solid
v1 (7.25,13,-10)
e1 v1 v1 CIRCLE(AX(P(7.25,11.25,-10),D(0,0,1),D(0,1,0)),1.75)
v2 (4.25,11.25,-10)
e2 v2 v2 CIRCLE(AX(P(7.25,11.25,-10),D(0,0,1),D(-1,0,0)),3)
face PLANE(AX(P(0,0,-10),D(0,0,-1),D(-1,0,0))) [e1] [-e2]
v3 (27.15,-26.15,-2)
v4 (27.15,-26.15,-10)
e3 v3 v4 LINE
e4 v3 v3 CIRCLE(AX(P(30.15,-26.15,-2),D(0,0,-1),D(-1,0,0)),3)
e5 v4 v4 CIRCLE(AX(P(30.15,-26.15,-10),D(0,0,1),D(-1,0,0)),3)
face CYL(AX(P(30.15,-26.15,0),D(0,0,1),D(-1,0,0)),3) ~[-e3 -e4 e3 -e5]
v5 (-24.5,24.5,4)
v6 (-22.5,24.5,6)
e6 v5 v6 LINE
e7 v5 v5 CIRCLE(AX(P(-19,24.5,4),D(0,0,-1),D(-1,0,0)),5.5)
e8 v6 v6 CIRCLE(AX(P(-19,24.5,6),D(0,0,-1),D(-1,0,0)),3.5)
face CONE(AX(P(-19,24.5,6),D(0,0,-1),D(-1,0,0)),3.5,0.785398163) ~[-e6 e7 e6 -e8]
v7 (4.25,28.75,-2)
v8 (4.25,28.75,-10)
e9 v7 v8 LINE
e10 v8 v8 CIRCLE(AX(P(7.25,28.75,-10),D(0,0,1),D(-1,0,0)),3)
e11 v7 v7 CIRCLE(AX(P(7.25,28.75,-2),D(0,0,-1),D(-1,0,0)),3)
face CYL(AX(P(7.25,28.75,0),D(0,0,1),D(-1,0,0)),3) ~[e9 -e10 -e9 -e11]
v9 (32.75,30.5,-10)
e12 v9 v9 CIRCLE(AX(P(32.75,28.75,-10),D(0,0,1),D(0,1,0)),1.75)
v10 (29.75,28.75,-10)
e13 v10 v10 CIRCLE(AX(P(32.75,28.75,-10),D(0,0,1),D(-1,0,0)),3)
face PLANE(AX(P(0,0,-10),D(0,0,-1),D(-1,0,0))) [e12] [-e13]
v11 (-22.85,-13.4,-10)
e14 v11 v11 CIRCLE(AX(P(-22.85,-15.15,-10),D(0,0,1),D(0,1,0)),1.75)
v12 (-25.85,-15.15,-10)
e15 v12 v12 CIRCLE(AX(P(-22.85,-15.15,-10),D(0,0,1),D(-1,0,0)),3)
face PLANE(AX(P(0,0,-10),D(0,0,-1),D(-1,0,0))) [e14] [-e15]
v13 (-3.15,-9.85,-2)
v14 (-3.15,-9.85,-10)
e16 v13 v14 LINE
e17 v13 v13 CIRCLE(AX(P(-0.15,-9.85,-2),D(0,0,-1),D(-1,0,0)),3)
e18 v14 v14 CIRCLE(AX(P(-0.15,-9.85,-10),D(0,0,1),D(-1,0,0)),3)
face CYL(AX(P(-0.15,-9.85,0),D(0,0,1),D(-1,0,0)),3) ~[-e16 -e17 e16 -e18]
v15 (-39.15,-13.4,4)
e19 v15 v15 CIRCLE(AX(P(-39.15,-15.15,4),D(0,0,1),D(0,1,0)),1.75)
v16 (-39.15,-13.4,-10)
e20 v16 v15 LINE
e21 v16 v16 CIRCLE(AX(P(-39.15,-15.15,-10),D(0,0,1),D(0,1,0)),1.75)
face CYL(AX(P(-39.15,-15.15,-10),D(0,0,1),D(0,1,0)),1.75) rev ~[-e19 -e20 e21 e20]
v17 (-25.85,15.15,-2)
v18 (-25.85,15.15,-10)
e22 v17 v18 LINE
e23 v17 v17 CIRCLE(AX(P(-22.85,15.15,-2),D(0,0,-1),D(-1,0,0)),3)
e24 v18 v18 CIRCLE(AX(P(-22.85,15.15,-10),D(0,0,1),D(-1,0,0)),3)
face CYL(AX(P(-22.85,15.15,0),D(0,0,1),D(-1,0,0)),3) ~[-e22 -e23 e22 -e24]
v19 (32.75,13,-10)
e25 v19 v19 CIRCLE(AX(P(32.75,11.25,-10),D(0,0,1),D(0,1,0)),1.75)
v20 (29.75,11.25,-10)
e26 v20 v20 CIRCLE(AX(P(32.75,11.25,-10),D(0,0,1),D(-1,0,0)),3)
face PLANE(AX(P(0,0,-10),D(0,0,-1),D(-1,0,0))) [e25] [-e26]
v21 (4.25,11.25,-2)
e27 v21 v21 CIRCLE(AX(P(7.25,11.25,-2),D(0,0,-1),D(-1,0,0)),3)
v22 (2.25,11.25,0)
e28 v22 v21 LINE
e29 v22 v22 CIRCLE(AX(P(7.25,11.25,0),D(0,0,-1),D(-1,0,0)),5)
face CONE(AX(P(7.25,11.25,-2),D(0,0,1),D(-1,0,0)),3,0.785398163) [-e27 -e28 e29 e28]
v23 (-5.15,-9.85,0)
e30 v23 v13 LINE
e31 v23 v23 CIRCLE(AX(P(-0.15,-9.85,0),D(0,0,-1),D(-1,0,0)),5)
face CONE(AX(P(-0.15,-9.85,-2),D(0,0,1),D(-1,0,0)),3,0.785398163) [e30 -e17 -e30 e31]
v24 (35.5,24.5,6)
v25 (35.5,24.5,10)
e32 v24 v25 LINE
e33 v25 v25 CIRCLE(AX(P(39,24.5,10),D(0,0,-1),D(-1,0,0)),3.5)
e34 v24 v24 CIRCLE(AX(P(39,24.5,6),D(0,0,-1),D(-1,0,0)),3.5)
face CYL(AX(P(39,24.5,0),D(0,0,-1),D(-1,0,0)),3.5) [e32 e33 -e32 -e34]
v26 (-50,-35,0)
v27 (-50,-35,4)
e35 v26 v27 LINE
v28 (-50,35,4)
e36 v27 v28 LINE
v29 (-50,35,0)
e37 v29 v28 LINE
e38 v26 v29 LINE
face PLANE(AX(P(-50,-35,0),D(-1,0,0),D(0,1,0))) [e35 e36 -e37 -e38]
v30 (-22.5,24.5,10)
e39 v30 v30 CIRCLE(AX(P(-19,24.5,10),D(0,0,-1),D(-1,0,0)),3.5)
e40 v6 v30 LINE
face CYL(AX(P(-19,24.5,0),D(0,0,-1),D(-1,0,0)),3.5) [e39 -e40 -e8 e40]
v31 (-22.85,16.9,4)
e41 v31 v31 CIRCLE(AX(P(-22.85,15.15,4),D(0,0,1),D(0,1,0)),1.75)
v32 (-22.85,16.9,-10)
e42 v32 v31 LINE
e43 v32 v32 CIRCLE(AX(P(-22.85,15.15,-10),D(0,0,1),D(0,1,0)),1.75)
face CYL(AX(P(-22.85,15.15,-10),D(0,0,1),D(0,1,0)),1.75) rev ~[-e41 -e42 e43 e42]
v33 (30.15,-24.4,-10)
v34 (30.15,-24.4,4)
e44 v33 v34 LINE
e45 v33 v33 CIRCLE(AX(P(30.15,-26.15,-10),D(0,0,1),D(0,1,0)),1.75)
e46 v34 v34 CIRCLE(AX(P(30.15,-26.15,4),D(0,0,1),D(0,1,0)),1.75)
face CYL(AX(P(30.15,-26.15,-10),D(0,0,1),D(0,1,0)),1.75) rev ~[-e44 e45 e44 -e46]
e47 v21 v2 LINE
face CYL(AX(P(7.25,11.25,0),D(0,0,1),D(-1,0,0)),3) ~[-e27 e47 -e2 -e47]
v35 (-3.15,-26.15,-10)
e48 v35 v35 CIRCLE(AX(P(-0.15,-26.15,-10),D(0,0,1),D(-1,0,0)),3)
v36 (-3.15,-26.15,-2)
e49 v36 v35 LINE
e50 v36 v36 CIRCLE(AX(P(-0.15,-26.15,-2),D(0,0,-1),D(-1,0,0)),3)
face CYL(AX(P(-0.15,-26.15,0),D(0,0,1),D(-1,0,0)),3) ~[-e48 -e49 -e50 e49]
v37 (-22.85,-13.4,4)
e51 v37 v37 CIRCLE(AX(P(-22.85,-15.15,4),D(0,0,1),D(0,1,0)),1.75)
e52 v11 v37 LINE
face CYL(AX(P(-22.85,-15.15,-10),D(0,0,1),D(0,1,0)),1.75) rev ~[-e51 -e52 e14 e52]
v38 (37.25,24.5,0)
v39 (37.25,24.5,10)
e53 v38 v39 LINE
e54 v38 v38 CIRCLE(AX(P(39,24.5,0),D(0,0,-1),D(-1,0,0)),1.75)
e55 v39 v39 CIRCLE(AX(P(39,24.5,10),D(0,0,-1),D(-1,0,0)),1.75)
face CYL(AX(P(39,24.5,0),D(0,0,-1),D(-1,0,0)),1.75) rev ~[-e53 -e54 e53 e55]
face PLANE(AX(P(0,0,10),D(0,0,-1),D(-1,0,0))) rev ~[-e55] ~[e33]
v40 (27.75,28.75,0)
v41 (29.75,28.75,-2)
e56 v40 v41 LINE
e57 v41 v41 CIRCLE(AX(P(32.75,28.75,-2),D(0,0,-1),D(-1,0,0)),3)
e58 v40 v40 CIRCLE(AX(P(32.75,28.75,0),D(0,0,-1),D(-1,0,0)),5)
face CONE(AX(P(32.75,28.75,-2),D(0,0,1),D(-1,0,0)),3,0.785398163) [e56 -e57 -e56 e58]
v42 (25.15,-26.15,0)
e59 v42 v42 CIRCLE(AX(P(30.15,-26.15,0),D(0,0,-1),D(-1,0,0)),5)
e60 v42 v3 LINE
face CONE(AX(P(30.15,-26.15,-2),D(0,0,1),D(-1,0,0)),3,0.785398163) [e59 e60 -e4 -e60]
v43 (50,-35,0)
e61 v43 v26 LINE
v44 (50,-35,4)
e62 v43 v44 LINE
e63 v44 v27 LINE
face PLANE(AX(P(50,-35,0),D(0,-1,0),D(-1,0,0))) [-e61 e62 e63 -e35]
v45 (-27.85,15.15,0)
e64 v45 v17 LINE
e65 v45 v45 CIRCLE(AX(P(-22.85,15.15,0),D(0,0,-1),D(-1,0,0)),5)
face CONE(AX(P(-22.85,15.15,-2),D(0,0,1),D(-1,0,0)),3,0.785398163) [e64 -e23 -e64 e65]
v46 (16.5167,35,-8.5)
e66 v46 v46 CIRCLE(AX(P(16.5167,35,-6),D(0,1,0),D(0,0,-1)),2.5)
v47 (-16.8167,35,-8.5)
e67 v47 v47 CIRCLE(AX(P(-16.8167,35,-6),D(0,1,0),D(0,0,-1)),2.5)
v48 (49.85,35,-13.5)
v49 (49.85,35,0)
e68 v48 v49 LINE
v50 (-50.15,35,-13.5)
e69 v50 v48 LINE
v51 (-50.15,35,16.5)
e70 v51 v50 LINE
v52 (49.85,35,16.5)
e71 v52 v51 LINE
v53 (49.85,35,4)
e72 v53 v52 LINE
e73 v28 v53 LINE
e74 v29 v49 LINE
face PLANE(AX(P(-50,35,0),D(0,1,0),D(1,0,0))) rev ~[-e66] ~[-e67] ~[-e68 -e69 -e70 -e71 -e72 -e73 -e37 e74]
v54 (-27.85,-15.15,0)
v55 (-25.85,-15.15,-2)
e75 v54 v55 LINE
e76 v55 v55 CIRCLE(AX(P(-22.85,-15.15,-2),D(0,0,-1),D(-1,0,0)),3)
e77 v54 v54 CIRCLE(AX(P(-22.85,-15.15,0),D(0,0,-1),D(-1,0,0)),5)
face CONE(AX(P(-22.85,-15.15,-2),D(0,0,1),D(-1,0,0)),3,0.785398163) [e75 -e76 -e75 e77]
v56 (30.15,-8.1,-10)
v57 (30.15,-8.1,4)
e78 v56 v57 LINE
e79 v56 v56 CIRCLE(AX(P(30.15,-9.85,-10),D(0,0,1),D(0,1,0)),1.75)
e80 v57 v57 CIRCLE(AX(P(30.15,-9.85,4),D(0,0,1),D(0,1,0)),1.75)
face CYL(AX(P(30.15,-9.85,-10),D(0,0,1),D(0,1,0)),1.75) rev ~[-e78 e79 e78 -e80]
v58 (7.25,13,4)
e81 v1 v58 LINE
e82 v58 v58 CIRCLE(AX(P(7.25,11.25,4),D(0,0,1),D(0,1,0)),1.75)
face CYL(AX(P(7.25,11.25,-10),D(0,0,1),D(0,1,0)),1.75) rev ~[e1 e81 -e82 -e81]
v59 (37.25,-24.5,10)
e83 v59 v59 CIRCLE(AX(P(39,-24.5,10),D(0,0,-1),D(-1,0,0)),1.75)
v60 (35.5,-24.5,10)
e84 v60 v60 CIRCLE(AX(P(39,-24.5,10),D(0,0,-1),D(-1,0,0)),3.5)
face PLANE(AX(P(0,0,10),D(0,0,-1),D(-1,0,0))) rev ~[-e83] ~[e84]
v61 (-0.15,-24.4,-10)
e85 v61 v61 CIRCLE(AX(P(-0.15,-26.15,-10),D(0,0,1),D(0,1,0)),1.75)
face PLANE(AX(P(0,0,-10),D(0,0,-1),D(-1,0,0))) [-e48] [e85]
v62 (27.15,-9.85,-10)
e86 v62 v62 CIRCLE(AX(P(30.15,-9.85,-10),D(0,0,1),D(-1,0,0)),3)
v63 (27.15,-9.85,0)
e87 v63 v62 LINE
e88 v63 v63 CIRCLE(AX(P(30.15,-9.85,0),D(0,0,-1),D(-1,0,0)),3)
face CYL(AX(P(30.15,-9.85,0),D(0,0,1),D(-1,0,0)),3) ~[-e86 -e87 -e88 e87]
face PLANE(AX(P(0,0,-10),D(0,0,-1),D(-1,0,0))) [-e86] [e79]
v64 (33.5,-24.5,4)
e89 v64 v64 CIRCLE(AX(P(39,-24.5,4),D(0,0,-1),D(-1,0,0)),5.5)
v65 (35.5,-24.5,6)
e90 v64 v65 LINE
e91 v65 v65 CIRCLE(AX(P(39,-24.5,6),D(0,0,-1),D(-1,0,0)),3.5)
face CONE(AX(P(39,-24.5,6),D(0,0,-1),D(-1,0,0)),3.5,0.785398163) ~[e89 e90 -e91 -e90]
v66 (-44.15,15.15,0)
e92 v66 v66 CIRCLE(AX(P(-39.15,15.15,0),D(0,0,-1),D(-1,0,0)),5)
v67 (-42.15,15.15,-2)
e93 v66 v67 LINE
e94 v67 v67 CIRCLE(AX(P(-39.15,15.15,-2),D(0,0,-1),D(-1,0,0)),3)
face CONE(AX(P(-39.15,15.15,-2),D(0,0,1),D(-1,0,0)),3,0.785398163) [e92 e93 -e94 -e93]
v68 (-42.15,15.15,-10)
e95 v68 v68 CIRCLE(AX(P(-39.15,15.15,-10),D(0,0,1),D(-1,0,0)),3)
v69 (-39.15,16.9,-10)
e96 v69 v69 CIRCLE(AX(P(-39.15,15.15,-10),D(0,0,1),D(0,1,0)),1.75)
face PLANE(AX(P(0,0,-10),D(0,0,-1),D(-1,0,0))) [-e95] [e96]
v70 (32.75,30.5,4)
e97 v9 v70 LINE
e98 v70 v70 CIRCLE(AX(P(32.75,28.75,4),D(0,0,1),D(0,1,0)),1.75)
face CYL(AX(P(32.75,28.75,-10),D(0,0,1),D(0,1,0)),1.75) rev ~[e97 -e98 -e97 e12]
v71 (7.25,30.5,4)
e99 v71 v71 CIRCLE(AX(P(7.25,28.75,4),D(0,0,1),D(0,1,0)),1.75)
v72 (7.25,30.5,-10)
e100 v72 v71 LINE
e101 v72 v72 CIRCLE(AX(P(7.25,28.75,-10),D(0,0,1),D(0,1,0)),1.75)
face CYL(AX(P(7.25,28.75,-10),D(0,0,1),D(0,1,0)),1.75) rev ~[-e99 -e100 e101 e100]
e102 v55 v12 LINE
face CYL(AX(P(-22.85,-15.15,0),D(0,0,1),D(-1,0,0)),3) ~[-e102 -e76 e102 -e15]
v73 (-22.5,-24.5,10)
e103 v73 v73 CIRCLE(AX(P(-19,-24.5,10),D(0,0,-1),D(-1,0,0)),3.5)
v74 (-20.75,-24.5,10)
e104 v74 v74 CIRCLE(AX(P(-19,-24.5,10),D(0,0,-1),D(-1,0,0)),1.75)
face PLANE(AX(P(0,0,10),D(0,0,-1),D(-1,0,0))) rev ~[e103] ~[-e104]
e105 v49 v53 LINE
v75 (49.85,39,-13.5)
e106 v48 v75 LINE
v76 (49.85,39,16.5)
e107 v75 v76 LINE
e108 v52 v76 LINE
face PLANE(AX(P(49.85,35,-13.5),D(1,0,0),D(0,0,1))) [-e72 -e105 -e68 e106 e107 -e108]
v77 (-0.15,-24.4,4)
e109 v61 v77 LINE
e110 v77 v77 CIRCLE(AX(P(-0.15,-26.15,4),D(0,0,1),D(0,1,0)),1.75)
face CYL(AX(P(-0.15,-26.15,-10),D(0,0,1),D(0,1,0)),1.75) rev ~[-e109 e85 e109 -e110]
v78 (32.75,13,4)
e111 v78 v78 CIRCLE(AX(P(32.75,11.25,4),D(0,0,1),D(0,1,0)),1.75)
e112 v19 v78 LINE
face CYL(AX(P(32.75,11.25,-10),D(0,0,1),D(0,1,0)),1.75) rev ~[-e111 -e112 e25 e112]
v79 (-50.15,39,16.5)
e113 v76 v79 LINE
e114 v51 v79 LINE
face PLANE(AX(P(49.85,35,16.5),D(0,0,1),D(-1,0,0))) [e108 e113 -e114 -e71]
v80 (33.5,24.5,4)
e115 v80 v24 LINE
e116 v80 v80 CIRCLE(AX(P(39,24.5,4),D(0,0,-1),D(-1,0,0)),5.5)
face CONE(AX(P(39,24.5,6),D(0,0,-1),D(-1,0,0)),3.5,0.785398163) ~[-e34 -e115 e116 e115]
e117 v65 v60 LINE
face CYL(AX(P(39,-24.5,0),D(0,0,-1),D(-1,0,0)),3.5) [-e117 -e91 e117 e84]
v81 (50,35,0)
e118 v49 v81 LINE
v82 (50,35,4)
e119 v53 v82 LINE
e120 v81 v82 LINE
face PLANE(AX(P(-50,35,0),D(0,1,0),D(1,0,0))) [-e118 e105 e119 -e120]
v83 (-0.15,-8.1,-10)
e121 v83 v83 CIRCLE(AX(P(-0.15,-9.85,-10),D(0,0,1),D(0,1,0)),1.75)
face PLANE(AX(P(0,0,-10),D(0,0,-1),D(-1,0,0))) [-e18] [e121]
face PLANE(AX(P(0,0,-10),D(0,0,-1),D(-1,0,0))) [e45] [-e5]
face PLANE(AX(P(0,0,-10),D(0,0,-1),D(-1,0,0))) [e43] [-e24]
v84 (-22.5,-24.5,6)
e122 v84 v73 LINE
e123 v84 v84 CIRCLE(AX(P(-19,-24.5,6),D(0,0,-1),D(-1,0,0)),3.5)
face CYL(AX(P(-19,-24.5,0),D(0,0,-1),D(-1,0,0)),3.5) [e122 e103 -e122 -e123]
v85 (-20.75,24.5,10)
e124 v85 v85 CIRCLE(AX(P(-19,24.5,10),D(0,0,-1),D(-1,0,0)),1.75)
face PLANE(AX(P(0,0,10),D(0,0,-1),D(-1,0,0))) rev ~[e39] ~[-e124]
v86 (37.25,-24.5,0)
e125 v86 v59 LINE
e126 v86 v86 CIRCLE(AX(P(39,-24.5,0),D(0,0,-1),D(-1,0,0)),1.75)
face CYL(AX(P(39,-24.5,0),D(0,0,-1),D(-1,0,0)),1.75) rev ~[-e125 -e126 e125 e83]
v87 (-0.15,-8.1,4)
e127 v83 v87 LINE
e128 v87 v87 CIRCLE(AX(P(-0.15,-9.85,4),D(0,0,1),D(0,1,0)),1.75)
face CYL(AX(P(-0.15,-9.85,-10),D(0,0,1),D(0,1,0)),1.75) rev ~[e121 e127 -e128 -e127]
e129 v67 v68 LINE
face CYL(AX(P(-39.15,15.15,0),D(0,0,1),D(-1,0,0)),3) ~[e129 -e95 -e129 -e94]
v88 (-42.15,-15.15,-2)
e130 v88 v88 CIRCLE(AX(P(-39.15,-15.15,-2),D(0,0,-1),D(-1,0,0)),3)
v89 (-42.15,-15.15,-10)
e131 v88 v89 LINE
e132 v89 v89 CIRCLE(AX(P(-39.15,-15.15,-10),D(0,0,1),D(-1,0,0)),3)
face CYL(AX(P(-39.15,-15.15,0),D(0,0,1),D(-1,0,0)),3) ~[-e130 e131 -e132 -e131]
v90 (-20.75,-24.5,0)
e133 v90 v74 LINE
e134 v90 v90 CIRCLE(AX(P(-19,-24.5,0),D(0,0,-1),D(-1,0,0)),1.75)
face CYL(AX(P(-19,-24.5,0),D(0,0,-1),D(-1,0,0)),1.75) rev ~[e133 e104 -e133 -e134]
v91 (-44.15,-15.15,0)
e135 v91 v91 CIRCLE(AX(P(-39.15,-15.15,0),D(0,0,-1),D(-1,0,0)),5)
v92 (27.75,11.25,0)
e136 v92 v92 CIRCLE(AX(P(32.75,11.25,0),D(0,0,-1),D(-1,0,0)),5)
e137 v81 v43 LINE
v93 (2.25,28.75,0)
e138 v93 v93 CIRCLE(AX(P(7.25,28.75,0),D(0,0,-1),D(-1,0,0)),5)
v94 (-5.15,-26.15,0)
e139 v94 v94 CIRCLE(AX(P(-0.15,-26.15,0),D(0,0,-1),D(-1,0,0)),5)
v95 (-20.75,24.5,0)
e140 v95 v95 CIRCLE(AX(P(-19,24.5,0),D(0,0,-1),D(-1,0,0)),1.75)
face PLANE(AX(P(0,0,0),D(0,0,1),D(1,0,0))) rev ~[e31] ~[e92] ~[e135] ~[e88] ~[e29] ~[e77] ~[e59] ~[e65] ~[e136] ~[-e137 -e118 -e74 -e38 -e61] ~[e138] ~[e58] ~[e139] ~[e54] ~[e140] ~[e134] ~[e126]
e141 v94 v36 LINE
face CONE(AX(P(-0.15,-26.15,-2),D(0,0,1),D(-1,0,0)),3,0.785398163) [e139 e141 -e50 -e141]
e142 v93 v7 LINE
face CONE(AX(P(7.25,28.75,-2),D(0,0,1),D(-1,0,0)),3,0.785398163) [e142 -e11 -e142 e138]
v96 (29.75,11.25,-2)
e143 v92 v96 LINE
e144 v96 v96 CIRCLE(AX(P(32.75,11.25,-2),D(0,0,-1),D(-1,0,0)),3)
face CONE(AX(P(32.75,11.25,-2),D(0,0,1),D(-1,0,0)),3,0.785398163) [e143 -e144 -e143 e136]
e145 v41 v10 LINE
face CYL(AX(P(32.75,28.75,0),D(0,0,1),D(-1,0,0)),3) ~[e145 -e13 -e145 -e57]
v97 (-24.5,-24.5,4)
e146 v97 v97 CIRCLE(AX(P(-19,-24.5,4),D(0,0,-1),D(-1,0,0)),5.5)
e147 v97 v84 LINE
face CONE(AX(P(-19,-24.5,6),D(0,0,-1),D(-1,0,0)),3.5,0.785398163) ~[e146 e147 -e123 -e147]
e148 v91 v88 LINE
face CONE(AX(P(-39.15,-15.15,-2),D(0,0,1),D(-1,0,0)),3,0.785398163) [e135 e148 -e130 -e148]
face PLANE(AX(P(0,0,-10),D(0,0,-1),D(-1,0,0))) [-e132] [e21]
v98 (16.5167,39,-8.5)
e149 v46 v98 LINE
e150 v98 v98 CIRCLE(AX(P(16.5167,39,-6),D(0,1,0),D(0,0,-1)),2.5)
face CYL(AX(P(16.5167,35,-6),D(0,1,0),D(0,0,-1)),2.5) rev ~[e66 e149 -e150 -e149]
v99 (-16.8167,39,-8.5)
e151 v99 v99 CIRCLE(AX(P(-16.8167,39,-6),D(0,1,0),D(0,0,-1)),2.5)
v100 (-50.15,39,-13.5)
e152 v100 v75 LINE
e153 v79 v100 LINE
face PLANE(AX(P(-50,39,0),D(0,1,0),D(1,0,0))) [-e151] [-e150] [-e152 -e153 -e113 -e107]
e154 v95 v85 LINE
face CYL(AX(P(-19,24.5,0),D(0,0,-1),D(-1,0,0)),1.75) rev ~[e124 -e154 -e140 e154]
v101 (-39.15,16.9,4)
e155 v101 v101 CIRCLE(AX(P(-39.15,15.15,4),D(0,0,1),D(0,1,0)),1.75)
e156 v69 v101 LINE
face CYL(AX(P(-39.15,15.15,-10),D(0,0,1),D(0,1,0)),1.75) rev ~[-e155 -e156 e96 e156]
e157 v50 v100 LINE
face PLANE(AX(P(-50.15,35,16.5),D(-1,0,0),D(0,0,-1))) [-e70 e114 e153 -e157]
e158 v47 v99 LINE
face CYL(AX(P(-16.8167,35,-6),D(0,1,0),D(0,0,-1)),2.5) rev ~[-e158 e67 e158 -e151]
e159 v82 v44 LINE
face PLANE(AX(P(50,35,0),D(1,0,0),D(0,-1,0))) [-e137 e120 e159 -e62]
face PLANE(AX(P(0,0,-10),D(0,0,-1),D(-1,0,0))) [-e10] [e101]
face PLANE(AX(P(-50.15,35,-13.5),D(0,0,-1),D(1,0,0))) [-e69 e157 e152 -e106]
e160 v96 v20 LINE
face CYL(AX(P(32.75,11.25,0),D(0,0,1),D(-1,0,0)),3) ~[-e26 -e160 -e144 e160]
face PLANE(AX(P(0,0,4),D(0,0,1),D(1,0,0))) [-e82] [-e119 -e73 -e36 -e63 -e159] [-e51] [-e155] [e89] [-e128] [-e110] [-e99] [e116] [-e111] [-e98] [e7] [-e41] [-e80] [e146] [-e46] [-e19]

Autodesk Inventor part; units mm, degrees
ref_plane "YZ Plane" through (0, 0, 0) normal (1, 0, 0) x (0, 1, 0)
ref_plane "XZ Plane" through (0, 0, 0) normal (0, 1, 0) x (-1, 0, 0)
ref_plane "XY Plane" through (0, 0, 0) normal (0, 0, 1) x (1, 0, 0)
sketch "Sketch1" plane through (0, 0, 0) normal (0, 0, 1) x (1, 0, 0)
  line L0 (-42.5, 28) -> (42.5, 28)
  line L1 (42.5, 28) -> (42.5, -28)
  line L2 (42.5, -28) -> (-42.5, -28)
  line L3 (-42.5, -28) -> (-42.5, 28)
  line L4 (-42.5, 28) -> (42.5, -28) construction
  line L5 (42.5, 28) -> (-42.5, -28) construction
  line L6 (-50, 35) -> (50, 35)
  line L7 (50, 35) -> (50, -35)
  line L8 (50, -35) -> (-50, -35)
  line L9 (-50, -35) -> (-50, 35)
  line L10 (-50, 35) -> (50, -35) construction
  line L11 (50, 35) -> (-50, -35) construction
  circle A0 centre (39, -24.5) radius 3.5
  circle A1 centre (39, 24.5) radius 3.5
  circle A2 centre (-19, 24.5) radius 3.5
  circle A3 centre (-19, -24.5) radius 3.5
  point P0 (0, 0)
  dimension "d0" = 85
  dimension "d1" = 56
  dimension "d2" = 100
  dimension "d3" = 70
  dimension "d4" = 7
  dimension "d5" = 7
  dimension "d6" = 3.5
  dimension "d7" = 3.5
  dimension "d8" = 3.5
  dimension "d9" = 3.5
  dimension "d10" = 7
  dimension "d11" = 7
  dimension "d12" = 58
  dimension "d13" = 58
  dimension "d14" = 3.5
  dimension "d15" = 3.5
extrude "Extrusion1" add sketch "Sketch1" along normal blind 4 contours L0 A1 L1 A0 L2 L3 | L0 L1 A1 | A0 L1 L2 | L6 L7 L8 L9
sketch "Sketch2" plane through (0, 0, 0) normal (0, 0, -1) x (-1, 0, 0)
  circle A0 centre (19, 24.5) radius 3.5 projected
  circle A1 centre (19, 24.5) radius 3.5
  circle A2 centre (19, 24.5) radius 1.75
  circle A3 centre (-39, 24.5) radius 3.5 projected
  circle A4 centre (-39, 24.5) radius 3.5
  circle A5 centre (-39, 24.5) radius 1.75
  circle A6 centre (-39, -24.5) radius 3.5 projected
  circle A7 centre (-39, -24.5) radius 3.5
  circle A8 centre (-39, -24.5) radius 1.75
  circle A9 centre (19, -24.5) radius 3.5 projected
  circle A10 centre (19, -24.5) radius 3.5
  circle A11 centre (19, -24.5) radius 1.75
  point P0 (0, 0)
  dimension "d18" = 3.5
  dimension "d19" = 3.5
  dimension "d20" = 3.5
  dimension "d21" = 3.5
extrude "Extrusion2" add sketch "Sketch2" against normal blind 10
sketch "Sketch3" plane through (0, 0, 0) normal (0, 0, -1) x (-1, 0, 0)
  line L0 (-38.5, 31.075) -> (-1.5, 31.075)
  line L1 (-1.5, 31.075) -> (-1.5, 8.925)
  line L2 (-1.5, 8.925) -> (-38.5, 8.925)
  line L3 (-38.5, 8.925) -> (-38.5, 31.075)
  line L4 (-38.5, 31.075) -> (-1.5, 8.925) construction
  line L5 (-1.5, 31.075) -> (-38.5, 8.925) construction
  line L6 (-50, 35) -> (-50, -35) projected
  line L7 (50, 35) -> (-50, 35) projected
  line L8 (-32.75, 28.75) -> (-7.25, 28.75)
  line L9 (-7.25, 28.75) -> (-7.25, 11.25)
  line L10 (-7.25, 11.25) -> (-32.75, 11.25)
  line L11 (-32.75, 11.25) -> (-32.75, 28.75)
  line L12 (-32.75, 28.75) -> (-7.25, 11.25) construction
  line L13 (-7.25, 28.75) -> (-32.75, 11.25) construction
  circle A0 centre (-32.75, 28.75) radius 3
  circle A1 centre (-7.25, 28.75) radius 3
  circle A2 centre (-7.25, 11.25) radius 3
  circle A3 centre (-32.75, 11.25) radius 3
  circle A4 centre (-32.75, 11.25) radius 1.75
  circle A5 centre (-32.75, 28.75) radius 1.75
  circle A6 centre (-7.25, 28.75) radius 1.75
  circle A7 centre (-7.25, 11.25) radius 1.75
  point P0 (0, 0)
  point P1 (-20, 20)
  dimension "d24" = 37
  dimension "d25" = 22.15
  dimension "d26" = 30
  dimension "d28" = 15
  dimension "d29" = 25.5
  dimension "d30" = 17.5
  dimension "d31" = 6
  dimension "d32" = 6
  dimension "d33" = 6
  dimension "d34" = 6
  dimension "d35" = 3.5
  dimension "d36" = 3.5
  dimension "d37" = 3.5
  dimension "d38" = 3.5
extrude "Extrusion3" add sketch "Sketch3" along normal blind 10 contours A0 L0 | L0 A0 L8 A5 L11 | L11 A5 L8 A0 | A3 L11 A4 L10 L2 | L2 A3 | A1 L0 | L0 A1 L9 A6 L8 | A3 L10 A4 L11 | L8 A6 L9 A1 | A2 L10 A7 L9 L2 | L2 A2 | A2 L9 A7 L10
sketch "Sketch5" plane through (0, 0, 0) normal (0, 0, -1) x (-1, 0, 0)
  line L0 (-36.5, -7.5) -> (6.5, -7.5)
  line L1 (6.5, -7.5) -> (6.5, -28.5)
  line L2 (6.5, -28.5) -> (-36.5, -28.5)
  line L3 (-36.5, -28.5) -> (-36.5, -7.5)
  line L4 (-36.5, -7.5) -> (6.5, -28.5) construction
  line L5 (6.5, -7.5) -> (-36.5, -28.5) construction
  line L6 (-50, -35) -> (50, -35) projected
  line L7 (-50, 35) -> (-50, -35) projected
  line L8 (-30.15, -9.85) -> (0.15, -9.85)
  line L9 (0.15, -9.85) -> (0.15, -26.15)
  line L10 (0.15, -26.15) -> (-30.15, -26.15)
  line L11 (-30.15, -26.15) -> (-30.15, -9.85)
  line L12 (-30.15, -9.85) -> (0.15, -26.15) construction
  line L13 (0.15, -9.85) -> (-30.15, -26.15) construction
  circle A0 centre (0.15, -9.85) radius 3
  circle A1 centre (-30.15, -9.85) radius 3
  circle A2 centre (-30.15, -26.15) radius 3
  circle A3 centre (0.15, -26.15) radius 3
  line L14 (20.5, -21.5) -> (20.5, 21.5)
  line L15 (20.5, 21.5) -> (41.5, 21.5)
  line L16 (41.5, 21.5) -> (41.5, -21.5)
  line L17 (41.5, -21.5) -> (20.5, -21.5)
  line L18 (20.5, -21.5) -> (41.5, 21.5) construction
  line L19 (20.5, 21.5) -> (41.5, -21.5) construction
  line L20 (22.85, -15.15) -> (22.85, 15.15)
  line L21 (22.85, 15.15) -> (39.15, 15.15)
  line L22 (39.15, 15.15) -> (39.15, -15.15)
  line L23 (39.15, -15.15) -> (22.85, -15.15)
  line L24 (22.85, -15.15) -> (39.15, 15.15) construction
  line L25 (22.85, 15.15) -> (39.15, -15.15) construction
  circle A4 centre (22.85, 15.15) radius 3
  circle A5 centre (22.85, -15.15) radius 3
  circle A6 centre (39.15, -15.15) radius 3
  circle A7 centre (39.15, 15.15) radius 3
  line L26 (50, -35) -> (50, 35) projected
  point P0 (0, 0)
  point P1 (-15, -18)
  point P2 (31, 0)
  dimension "d49" = 43
  dimension "d50" = 21
  dimension "d51" = 17
  dimension "d52" = 35
  dimension "d53" = 30.3
  dimension "d54" = 16.3
  dimension "d55" = 6
  dimension "d56" = 6
  dimension "d57" = 6
  dimension "d58" = 6
  dimension "d59" = 43
  dimension "d60" = 21
  dimension "d61" = 30.3
  dimension "d62" = 16.3
  dimension "d63" = 6
  dimension "d64" = 6
  dimension "d65" = 6
  dimension "d66" = 6
  dimension "d67" = 35
  dimension "d68" = 19
extrude "Extrusion4" add sketch "Sketch5" along normal blind 10 contours A1 L0 | L0 A1 L8 L11 | L11 L8 A1 | A2 L11 L10 L2 | L2 A2 | A0 L0 | L0 A0 L9 L8 | A2 L10 L11 | L8 L9 A0 | A3 L10 L9 L2 | L2 A3 | A3 L9 L10 | A5 L14 | L14 A5 L20 L23 | L23 L20 A5 | A6 L23 L22 L16 | L16 A6 | A4 L14 | L14 A4 L21 L20 | A6 L22 L23 | L20 L21 A4 | A7 L22 L21 L16 | L16 A7 | A7 L21 L22
sketch "Sketch6" plane through (32.75, 28.75, -10) normal (0, 0, -1) x (-1, 0, 0)
  circle A0 centre (0, 0) radius 1.75 projected
  circle A1 centre (25.5, 0) radius 1.75 projected
  circle A2 centre (25.5, -17.5) radius 1.75 projected
  circle A3 centre (0, -17.5) radius 1.75 projected
  circle A4 centre (2.6, -38.6) radius 3 projected
  circle A5 centre (2.6, -54.9) radius 3 projected
  circle A6 centre (32.9, -54.9) radius 3 projected
  circle A7 centre (32.9, -38.6) radius 3 projected
  circle A8 centre (55.6, -43.9) radius 3 projected
  circle A9 centre (55.6, -13.6) radius 3 projected
  circle A10 centre (71.9, -13.6) radius 3 projected
  circle A11 centre (71.9, -43.9) radius 3 projected
  point P0 (32.75, -28.75)
hole "Hole2" at (32.75, 28.75, -10) at (7.25, 28.75, -10) at (7.25, 11.25, -10) at (32.75, 11.25, -10) at (30.15, -9.85, -10) at (30.15, -26.15, -10) at (-0.15, -26.15, -10) at (-0.15, -9.85, -10) at (-22.85, -15.15, -10) at (-22.85, 15.15, -10) at (-39.15, 15.15, -10) at (-39.15, -15.15, -10) at (32.75, 28.75, -10) at (7.25, 28.75, -10) at (7.25, 11.25, -10) at (32.75, 11.25, -10) at (30.15, -9.85, -10) at (30.15, -26.15, -10) at (-0.15, -9.85, -10) at (-0.15, -26.15, -10) at (-22.85, -15.15, -10) at (-39.15, -15.15, -10) at (-39.15, 15.15, -10) at (-22.85, 15.15, -10) direction (0, 0, 1) diameter 3.5 end through all
chamfer "Chamfer1" distance 2 angle 45 15 edges at (35.75, 28.75, 0) (35.75, 11.25, 0) (10.25, 28.75, 0) (10.25, 11.25, 0) (-19.85, 15.15, 0) (2.85, -9.85, 0) (-19.85, -15.15, 0) (2.85, -26.15, 0) (33.15, -26.15, 0) (-36.15, 15.15, 0) (-36.15, -15.15, 0) (-15.5, -24.5, 4) (-15.5, 24.5, 4) (42.5, 24.5, 4) (42.5, -24.5, 4)
sketch "Sketch7" plane through (-50, 35, 0) normal (0, 1, 0) x (1, 0, 0)
  line L0 (-0.15, 13.5) -> (99.85, 13.5)
  line L1 (99.85, 13.5) -> (99.85, -16.5)
  line L2 (99.85, -16.5) -> (-0.15, -16.5)
  line L3 (-0.15, -16.5) -> (-0.15, 13.5)
  line L4 (-0.15, 13.5) -> (99.85, -16.5) construction
  line L5 (99.85, 13.5) -> (-0.15, -16.5) construction
  line L6 (0, 0) -> (100, 0) projected
  point P0 (50, 0)
  point P1 (49.85, -1.5)
  dimension "d81" = 100
  dimension "d82" = 30
  dimension "d83" = 1.5
extrude "Extrusion5" add sketch "Sketch7" along normal blind 4
sketch "Sketch8" plane through (-50, 35, 0) normal (0, -1, 0) x (1, 0, 0)
  line L0 (99.85, 16.5) -> (-0.15, 16.5) projected
  line L1 (99.85, 4) -> (99.85, 16.5) projected
  point P0 (50, 0)
  point P1 (66.5167, -6)
  point P2 (33.1833, -6)
  dimension "d86" = 22.5
  dimension "d87" = 22.5
  dimension "d88" = 33.3333
  dimension "d89" = 66.6667
hole "Hole3" at (16.5167, 35, -6) at (-16.8167, 35, -6) direction (0, 1, 0) diameter 5 end through all
equation "\"d4\" = d10"
equation "\"d5\" = d10"
equation "\"d11\" = d10"
equation "\"d13\" = d12"
properties part number "Eletronica - Raspberry"
